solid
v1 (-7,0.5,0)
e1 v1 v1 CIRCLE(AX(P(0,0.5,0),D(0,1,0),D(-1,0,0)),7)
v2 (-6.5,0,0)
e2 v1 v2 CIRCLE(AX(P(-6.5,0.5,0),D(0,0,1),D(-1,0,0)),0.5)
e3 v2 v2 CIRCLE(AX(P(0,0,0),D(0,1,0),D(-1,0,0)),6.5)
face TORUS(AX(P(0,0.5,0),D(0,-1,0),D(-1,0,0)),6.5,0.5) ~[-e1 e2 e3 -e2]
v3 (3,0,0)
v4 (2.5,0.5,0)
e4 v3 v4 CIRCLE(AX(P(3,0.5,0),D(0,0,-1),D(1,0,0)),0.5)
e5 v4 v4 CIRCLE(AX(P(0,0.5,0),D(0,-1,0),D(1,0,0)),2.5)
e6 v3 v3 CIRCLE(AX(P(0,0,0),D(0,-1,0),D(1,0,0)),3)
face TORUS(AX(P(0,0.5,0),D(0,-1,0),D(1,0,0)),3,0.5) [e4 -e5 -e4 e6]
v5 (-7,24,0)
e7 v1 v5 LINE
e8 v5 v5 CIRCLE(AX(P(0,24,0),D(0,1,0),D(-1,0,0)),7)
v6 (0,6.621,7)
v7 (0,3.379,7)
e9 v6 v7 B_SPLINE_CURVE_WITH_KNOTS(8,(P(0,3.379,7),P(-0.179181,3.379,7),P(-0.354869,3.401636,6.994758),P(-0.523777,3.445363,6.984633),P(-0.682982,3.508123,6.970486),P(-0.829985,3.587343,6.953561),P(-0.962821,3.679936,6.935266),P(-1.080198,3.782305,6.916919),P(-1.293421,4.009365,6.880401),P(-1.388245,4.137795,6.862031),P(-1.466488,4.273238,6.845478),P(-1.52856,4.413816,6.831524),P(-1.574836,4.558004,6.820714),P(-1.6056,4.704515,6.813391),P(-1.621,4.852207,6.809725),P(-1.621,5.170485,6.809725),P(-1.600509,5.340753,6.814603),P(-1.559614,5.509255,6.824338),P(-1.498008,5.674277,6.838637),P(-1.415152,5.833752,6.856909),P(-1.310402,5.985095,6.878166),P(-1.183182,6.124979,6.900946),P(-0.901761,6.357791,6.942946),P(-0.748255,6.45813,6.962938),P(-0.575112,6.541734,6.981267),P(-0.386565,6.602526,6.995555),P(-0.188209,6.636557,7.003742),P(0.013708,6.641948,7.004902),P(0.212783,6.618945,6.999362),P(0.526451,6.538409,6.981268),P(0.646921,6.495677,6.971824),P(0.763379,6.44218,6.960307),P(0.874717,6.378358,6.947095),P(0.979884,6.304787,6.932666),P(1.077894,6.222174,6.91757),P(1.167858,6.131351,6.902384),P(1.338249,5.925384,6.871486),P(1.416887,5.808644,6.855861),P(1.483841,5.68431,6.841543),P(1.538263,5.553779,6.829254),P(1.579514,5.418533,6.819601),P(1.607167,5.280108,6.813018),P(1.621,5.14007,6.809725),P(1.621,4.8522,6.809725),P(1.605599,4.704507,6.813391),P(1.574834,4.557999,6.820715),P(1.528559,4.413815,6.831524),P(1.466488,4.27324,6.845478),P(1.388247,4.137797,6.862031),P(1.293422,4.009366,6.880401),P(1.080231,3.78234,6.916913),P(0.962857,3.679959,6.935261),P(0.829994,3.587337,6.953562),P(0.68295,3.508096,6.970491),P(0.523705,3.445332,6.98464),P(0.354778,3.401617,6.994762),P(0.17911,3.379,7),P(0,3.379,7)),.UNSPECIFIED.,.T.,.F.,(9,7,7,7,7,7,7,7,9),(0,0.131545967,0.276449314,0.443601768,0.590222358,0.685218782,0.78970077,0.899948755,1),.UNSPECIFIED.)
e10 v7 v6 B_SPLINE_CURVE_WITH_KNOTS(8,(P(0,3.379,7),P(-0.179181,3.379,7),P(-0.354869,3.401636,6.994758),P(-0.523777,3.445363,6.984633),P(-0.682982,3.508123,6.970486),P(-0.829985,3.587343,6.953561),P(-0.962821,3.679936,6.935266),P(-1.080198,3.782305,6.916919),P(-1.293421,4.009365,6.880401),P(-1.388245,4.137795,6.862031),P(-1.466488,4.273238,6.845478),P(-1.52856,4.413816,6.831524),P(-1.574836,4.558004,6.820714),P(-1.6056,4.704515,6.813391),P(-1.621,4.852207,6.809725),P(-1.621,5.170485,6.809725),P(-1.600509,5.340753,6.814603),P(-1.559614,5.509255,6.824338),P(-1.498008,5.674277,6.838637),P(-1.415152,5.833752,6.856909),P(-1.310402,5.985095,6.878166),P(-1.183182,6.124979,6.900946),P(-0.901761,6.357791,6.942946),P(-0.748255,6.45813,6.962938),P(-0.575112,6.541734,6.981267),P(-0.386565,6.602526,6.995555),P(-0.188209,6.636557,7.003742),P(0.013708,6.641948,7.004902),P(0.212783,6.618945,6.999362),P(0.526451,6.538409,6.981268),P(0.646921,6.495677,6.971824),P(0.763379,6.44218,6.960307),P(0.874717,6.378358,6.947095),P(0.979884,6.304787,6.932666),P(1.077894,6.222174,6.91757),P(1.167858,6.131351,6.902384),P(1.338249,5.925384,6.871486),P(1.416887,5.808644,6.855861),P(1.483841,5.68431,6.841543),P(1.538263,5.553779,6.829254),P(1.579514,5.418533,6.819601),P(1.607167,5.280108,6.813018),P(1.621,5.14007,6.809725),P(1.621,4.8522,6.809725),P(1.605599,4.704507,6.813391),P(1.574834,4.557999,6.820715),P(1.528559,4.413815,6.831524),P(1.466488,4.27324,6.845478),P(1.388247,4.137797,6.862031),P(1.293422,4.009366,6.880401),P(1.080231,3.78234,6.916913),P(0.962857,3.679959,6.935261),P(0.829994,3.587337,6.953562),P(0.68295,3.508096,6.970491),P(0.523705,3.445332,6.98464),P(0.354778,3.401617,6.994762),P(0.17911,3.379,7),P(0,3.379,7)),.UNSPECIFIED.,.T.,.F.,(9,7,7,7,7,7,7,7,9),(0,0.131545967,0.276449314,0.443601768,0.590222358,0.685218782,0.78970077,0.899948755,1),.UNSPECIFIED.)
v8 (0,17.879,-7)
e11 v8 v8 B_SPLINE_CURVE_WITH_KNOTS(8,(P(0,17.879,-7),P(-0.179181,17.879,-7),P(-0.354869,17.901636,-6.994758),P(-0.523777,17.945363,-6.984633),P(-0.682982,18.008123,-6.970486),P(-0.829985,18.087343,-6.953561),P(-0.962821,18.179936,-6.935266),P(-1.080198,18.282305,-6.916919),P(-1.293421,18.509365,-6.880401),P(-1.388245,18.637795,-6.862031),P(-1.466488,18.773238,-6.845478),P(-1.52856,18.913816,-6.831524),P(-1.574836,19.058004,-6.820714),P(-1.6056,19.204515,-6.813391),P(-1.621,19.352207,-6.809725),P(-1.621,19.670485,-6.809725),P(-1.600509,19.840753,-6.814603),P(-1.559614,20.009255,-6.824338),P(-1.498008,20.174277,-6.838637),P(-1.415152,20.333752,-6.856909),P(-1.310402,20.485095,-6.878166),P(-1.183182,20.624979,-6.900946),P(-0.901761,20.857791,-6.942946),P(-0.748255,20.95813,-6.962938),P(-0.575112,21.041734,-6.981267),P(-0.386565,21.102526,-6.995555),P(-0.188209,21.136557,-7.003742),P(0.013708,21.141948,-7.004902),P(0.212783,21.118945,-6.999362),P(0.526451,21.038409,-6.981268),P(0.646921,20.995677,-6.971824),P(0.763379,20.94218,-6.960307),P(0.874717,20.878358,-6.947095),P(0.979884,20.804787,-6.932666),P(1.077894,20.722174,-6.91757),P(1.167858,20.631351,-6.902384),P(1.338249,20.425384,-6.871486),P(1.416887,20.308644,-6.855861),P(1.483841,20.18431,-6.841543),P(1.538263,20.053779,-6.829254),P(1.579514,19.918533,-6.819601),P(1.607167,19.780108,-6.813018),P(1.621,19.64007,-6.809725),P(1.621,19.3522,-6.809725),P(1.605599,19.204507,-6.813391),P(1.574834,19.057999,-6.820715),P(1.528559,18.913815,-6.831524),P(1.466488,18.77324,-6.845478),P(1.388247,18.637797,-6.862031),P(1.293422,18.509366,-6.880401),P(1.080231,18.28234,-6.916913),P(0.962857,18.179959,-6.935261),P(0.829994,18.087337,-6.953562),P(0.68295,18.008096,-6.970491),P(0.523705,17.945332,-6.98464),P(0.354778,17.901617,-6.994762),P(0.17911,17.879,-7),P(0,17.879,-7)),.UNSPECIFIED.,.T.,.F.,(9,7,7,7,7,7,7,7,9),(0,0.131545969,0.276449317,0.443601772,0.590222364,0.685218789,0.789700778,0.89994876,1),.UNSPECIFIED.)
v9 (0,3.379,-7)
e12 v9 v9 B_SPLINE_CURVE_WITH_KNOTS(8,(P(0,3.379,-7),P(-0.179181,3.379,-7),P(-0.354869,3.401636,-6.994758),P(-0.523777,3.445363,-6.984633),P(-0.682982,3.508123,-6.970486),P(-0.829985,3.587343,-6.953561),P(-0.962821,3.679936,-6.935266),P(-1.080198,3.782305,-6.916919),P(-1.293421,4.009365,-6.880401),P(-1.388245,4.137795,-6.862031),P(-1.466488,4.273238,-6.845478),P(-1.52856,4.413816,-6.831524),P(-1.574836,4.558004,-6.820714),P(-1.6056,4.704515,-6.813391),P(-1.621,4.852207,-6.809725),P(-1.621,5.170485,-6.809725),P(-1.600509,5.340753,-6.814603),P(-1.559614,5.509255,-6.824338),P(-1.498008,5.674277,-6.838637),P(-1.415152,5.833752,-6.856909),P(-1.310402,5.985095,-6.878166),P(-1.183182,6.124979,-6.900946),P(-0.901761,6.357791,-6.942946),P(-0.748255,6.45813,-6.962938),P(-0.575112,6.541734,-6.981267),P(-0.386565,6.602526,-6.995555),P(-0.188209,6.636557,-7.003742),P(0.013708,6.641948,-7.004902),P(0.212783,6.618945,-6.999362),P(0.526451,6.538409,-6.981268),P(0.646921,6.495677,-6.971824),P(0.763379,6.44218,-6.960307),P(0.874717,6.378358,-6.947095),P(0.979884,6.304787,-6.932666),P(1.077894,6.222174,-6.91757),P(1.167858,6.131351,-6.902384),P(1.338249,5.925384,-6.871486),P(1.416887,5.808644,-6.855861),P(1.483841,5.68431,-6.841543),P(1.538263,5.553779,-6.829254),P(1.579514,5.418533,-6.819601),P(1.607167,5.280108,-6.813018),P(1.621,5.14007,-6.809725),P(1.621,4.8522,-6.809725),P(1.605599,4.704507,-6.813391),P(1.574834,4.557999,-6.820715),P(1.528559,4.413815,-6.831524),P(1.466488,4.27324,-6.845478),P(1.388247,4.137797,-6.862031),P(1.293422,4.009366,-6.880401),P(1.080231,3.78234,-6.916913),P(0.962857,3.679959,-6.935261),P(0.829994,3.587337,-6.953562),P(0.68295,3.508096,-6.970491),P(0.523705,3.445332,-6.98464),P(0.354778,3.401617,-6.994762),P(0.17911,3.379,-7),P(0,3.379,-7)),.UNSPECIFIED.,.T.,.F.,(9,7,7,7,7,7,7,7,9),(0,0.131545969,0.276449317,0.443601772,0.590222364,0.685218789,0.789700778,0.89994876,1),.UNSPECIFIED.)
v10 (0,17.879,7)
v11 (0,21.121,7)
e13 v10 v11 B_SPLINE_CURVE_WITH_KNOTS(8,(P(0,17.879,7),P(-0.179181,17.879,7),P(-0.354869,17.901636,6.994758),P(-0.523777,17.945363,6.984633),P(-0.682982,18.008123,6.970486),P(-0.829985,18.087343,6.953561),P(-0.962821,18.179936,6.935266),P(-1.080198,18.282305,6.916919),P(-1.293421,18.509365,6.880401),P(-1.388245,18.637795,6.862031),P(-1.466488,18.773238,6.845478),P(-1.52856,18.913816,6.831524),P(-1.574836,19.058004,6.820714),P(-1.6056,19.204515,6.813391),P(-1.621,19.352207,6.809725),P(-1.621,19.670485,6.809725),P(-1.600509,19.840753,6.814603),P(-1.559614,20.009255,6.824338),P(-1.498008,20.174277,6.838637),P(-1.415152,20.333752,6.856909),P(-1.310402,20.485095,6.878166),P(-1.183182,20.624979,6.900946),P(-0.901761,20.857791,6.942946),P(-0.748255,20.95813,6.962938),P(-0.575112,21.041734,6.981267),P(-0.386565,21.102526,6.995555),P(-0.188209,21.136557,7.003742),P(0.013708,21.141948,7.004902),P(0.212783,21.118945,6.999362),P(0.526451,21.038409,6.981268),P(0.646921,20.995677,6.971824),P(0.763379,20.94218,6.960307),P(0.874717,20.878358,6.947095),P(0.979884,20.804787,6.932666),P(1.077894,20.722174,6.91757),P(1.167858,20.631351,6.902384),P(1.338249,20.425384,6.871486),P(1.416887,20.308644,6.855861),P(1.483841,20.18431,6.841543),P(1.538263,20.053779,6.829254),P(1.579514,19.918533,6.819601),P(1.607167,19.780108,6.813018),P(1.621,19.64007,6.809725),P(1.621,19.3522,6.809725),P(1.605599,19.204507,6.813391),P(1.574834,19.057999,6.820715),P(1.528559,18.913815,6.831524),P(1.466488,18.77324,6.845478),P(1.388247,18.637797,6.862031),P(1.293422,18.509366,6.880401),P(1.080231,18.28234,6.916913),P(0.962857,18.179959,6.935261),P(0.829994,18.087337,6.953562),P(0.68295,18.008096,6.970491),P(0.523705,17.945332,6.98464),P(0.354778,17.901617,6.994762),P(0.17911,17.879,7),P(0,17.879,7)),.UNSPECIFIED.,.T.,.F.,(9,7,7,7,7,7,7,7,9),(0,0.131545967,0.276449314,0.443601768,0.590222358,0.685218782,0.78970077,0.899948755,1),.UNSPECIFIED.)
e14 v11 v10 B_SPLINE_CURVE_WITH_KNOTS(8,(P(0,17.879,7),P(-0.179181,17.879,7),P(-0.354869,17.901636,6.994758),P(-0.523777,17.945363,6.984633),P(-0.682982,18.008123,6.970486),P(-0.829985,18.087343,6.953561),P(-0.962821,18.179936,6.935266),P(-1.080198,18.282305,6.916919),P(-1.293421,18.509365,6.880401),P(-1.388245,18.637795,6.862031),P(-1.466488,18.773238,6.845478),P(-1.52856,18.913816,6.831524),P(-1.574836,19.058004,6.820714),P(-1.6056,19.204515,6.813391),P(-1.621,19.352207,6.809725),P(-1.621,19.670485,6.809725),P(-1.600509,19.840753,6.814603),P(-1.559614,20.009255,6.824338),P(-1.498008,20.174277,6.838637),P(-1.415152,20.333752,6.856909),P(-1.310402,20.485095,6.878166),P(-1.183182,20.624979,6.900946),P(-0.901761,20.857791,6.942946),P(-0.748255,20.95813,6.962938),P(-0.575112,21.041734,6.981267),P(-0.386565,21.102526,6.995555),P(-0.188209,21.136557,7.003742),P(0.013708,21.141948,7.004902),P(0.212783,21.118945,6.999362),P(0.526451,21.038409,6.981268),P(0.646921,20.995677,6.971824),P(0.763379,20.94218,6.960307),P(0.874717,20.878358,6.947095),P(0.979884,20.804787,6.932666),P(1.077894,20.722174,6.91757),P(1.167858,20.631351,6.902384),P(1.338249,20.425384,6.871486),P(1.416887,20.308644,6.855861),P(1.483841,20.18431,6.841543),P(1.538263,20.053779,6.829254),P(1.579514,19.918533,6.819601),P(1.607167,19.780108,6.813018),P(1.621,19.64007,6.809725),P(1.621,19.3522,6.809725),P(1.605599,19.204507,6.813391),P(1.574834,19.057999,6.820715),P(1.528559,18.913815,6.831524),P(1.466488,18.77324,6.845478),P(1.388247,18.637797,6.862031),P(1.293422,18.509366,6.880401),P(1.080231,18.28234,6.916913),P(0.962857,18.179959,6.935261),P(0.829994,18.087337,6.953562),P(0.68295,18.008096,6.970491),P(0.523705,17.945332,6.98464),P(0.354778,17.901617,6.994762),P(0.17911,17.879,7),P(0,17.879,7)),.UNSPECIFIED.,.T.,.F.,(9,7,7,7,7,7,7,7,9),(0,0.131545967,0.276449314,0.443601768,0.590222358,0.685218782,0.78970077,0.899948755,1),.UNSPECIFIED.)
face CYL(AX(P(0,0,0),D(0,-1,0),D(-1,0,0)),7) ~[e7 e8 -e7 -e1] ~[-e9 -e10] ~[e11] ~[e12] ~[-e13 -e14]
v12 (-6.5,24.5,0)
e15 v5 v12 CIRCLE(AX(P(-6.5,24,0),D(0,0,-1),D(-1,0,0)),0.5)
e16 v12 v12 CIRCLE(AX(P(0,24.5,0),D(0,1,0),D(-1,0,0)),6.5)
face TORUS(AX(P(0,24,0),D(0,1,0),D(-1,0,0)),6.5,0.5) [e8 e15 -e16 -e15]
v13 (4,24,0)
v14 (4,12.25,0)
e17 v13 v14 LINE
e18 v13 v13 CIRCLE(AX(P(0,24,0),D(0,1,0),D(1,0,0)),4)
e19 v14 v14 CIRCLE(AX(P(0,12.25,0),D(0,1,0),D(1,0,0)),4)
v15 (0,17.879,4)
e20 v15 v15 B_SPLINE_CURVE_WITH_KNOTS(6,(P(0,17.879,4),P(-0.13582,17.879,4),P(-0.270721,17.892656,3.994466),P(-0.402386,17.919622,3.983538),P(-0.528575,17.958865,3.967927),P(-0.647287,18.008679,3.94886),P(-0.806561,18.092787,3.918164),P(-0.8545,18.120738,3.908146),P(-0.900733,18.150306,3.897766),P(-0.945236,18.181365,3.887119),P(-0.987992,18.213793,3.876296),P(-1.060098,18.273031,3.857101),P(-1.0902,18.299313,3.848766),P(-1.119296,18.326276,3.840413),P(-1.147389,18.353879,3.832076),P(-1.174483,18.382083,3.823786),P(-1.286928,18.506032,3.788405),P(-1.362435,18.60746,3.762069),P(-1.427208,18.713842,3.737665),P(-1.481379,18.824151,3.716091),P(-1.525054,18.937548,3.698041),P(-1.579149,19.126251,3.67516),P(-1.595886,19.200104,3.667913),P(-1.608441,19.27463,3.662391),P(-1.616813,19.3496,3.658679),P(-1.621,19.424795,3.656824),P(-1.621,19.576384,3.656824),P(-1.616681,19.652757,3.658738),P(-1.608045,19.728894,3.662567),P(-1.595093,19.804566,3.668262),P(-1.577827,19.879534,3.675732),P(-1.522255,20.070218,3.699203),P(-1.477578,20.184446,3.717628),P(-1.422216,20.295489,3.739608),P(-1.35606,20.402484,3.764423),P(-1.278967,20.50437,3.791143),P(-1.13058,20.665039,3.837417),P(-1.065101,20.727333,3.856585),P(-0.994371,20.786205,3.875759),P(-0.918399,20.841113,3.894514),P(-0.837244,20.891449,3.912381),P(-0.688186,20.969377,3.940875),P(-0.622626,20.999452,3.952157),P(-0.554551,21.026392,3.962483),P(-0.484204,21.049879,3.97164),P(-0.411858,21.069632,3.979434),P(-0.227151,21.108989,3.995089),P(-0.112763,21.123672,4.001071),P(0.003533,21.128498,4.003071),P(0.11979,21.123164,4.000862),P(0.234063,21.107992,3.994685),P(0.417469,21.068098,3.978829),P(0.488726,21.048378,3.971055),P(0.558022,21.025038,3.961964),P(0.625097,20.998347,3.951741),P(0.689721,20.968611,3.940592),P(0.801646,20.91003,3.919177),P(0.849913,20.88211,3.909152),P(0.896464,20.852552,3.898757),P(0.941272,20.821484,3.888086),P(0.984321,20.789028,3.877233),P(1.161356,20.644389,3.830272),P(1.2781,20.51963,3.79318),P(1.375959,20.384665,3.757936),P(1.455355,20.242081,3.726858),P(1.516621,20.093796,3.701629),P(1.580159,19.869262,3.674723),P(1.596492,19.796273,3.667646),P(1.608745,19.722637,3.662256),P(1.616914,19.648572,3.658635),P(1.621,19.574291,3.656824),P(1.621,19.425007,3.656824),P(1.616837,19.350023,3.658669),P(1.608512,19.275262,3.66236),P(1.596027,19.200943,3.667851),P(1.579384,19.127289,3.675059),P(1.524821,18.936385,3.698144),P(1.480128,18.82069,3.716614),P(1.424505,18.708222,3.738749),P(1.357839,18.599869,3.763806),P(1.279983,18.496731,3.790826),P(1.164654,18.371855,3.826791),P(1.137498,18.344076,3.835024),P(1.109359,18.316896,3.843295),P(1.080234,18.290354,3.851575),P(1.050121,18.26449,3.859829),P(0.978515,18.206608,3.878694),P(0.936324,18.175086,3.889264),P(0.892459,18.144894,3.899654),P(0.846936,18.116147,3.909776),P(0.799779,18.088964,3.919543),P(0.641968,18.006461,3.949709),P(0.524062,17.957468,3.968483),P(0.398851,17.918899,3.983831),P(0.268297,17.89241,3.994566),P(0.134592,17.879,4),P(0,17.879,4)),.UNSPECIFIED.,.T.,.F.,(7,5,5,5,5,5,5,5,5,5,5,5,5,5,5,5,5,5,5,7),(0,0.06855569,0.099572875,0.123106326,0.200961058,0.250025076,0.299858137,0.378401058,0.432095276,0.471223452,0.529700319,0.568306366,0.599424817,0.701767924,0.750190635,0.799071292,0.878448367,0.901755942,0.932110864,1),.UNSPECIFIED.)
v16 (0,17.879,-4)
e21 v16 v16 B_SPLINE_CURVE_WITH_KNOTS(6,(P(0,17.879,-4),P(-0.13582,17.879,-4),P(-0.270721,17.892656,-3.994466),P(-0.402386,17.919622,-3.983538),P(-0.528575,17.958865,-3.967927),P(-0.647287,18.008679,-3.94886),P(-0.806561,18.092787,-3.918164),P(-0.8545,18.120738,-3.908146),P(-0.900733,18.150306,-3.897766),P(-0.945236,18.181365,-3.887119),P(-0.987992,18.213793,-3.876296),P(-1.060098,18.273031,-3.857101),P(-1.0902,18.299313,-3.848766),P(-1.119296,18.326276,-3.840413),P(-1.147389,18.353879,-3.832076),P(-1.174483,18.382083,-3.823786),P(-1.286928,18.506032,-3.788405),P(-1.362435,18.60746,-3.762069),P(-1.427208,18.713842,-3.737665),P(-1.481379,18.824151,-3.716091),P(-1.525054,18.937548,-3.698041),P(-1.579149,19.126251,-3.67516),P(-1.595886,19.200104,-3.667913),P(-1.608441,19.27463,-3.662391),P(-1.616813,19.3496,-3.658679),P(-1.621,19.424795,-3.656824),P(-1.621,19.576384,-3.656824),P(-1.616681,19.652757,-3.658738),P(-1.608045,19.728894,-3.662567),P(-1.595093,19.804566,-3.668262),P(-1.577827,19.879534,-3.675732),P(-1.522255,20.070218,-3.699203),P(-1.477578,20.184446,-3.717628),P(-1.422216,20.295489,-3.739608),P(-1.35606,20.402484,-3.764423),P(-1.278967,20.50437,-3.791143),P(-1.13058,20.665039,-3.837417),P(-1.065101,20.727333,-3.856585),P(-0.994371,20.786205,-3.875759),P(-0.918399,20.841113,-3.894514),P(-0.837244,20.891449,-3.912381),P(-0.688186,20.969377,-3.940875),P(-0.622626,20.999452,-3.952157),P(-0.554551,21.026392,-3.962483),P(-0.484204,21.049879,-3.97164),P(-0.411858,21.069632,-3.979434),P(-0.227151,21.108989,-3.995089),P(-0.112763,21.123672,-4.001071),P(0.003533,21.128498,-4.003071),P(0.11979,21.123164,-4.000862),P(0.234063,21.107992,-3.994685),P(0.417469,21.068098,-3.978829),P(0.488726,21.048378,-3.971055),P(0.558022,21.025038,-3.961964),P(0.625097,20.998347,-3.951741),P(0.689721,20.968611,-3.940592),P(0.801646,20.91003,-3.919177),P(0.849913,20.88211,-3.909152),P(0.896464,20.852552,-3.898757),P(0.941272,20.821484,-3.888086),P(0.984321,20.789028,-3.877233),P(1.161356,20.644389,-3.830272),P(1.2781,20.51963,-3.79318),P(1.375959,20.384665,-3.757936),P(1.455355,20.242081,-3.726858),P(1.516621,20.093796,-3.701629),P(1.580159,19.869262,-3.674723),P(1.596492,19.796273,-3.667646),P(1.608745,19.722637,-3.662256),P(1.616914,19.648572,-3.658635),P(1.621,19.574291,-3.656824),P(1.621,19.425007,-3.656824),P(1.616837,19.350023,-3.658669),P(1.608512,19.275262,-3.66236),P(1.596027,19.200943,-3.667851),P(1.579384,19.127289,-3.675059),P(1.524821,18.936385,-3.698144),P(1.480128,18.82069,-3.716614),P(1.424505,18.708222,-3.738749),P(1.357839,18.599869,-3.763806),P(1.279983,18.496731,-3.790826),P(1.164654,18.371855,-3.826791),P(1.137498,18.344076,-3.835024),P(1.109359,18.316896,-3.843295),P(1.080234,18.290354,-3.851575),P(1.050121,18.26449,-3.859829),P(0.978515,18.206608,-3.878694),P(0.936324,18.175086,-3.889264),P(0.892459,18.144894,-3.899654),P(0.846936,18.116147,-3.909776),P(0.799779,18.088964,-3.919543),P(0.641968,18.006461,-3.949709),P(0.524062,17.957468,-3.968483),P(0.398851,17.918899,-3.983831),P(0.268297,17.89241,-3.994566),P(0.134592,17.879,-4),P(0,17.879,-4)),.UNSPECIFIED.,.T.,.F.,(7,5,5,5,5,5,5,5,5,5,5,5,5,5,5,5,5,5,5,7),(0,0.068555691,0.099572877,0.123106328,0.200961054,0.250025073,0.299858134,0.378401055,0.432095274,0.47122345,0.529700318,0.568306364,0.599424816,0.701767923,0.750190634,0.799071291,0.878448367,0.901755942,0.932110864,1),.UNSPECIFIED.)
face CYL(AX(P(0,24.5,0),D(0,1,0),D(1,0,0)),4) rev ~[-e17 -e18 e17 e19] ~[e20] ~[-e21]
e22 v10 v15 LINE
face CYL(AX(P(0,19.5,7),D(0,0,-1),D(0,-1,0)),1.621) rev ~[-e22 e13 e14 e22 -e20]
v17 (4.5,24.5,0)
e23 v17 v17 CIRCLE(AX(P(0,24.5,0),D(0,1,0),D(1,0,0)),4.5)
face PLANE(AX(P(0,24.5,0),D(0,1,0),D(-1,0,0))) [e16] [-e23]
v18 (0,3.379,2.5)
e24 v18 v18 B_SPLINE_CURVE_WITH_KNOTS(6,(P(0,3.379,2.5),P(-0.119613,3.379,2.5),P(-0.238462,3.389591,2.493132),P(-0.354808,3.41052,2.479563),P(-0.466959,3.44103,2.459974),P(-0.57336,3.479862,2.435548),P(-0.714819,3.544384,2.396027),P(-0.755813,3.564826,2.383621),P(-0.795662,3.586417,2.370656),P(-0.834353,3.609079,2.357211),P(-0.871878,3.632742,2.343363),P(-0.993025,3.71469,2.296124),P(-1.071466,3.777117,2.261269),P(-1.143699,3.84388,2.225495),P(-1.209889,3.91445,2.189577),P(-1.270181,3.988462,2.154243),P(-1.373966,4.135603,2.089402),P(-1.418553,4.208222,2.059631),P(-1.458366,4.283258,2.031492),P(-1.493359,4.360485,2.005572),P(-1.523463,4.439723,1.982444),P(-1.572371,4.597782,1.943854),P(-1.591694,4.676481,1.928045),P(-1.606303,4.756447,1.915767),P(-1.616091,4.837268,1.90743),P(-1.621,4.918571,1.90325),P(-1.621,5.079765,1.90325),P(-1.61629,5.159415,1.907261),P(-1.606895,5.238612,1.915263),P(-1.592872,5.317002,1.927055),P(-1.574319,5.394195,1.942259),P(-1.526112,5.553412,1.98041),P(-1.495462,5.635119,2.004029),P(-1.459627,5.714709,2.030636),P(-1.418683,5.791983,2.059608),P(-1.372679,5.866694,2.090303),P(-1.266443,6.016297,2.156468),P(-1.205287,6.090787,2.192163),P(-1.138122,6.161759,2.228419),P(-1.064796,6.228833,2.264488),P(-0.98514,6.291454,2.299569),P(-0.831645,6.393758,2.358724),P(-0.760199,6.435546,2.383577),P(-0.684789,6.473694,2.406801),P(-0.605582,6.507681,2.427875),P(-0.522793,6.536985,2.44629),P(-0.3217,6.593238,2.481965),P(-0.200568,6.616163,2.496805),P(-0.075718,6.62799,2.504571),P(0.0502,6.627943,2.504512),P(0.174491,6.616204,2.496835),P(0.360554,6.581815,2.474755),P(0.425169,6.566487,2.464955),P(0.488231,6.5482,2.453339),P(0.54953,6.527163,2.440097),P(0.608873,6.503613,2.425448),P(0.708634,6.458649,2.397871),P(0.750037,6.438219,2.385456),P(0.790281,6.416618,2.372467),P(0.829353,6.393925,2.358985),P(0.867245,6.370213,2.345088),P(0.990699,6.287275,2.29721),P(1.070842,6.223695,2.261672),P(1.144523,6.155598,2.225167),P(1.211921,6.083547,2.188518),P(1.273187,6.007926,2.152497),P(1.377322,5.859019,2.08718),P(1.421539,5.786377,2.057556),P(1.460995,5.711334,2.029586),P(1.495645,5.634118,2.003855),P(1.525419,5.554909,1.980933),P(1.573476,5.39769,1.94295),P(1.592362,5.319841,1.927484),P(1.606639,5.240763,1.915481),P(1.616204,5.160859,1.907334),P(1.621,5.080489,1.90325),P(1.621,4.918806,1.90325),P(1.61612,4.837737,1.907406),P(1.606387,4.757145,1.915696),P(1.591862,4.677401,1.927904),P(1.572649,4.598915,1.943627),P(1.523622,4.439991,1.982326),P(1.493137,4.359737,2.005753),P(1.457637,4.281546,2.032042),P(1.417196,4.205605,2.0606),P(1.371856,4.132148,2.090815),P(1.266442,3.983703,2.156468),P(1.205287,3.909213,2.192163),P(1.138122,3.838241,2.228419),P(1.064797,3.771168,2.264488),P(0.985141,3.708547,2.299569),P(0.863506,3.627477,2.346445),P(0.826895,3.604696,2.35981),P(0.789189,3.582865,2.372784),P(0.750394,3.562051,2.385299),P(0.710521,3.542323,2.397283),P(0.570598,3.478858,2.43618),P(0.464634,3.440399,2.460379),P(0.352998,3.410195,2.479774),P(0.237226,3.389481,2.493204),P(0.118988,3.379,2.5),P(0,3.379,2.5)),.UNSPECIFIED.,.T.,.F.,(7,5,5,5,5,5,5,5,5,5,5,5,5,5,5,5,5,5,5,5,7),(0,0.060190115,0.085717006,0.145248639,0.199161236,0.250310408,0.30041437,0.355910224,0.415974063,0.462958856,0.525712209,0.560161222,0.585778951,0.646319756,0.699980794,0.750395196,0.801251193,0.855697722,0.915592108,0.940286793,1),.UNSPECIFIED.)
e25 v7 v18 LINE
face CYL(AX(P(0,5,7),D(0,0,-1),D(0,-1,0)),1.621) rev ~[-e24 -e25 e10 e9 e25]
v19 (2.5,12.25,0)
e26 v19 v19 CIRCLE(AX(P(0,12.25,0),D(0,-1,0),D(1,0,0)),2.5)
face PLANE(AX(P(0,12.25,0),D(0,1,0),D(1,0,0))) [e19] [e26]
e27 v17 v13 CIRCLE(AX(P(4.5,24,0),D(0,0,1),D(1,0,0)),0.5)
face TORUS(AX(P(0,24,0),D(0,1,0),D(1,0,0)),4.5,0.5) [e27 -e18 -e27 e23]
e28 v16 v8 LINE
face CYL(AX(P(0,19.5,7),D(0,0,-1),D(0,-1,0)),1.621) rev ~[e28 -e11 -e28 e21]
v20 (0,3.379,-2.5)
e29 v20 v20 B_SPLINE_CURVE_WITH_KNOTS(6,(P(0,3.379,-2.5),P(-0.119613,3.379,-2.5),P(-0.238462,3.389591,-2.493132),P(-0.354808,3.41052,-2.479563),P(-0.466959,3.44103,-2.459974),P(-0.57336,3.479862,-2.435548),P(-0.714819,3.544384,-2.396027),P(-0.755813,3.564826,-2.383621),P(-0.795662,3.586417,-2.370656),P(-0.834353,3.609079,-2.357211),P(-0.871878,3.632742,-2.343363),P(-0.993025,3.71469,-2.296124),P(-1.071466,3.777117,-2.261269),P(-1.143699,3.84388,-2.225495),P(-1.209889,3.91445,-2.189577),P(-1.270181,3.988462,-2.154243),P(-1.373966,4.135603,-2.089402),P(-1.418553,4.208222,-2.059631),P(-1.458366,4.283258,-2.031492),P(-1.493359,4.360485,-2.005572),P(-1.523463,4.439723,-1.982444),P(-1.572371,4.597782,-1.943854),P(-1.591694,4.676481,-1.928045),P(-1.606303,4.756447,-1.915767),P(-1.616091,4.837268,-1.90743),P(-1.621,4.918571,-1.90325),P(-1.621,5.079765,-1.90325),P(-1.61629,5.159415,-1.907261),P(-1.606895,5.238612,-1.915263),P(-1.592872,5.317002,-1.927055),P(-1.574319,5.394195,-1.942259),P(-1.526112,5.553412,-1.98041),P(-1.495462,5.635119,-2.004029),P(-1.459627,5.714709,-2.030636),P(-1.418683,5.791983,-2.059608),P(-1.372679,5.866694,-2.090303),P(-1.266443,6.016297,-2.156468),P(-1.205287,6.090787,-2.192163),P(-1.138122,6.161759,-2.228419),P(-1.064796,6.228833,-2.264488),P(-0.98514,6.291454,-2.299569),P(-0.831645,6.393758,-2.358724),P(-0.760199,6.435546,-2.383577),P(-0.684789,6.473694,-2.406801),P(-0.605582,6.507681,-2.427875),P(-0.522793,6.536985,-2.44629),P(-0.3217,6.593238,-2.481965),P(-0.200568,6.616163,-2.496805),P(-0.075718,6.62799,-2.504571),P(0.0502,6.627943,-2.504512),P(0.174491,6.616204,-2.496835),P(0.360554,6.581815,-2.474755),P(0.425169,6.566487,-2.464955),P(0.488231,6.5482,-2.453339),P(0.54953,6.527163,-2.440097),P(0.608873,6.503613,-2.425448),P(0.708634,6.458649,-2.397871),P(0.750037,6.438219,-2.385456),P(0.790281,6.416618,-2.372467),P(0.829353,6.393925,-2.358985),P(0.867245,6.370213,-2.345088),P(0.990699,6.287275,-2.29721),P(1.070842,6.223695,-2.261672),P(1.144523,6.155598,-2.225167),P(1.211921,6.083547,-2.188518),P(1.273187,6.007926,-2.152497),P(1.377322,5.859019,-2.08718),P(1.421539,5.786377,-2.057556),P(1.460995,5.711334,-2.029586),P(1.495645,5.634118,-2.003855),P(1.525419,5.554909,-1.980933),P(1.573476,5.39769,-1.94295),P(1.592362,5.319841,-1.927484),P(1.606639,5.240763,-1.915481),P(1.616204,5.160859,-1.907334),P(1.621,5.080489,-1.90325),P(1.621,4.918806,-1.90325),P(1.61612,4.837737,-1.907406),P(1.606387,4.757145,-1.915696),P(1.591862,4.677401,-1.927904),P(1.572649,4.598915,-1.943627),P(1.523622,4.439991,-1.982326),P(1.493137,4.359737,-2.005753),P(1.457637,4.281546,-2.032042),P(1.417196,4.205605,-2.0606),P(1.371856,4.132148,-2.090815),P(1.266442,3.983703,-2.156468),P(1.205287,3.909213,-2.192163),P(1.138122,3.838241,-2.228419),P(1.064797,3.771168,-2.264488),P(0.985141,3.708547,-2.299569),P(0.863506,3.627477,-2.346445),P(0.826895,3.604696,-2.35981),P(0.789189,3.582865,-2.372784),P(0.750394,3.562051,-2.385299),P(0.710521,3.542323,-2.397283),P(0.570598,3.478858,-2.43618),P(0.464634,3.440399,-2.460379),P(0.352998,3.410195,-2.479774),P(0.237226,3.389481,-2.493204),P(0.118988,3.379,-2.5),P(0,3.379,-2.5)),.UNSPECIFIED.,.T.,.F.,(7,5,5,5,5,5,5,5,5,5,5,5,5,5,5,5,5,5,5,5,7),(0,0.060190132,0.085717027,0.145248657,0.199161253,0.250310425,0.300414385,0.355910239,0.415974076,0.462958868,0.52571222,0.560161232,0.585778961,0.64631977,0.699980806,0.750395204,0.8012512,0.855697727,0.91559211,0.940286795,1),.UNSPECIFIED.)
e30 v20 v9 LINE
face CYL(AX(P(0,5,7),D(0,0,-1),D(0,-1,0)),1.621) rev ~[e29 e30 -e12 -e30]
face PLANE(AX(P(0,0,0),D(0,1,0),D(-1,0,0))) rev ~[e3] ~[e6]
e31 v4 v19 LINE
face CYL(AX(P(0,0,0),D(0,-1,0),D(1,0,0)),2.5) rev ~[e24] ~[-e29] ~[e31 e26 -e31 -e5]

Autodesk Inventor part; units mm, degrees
ref_plane "YZ Plane" through (0, 0, 0) normal (1, 0, 0) x (0, 1, 0)
ref_plane "XZ Plane" through (0, 0, 0) normal (0, 1, 0) x (-1, 0, 0)
sketch "Sketch1" plane through (0, 0, 0) normal (0, 1, 0) x (-1, 0, 0)
  circle A0 centre (0, 0) radius 7
  dimension "d0" = 14
extrude "Extrusion1" add sketch "Sketch1" along normal blind 24.5
sketch "Sketch2" plane through (0, 24.5, 0) normal (0, 1, 0) x (1, 0, 0)
  circle A0 centre (0, 0) radius 4
  dimension "d3" = 8
extrude "Extrusion2" cut sketch "Sketch2" against normal blind 12.25
sketch "Sketch3" plane through (0, 0, 0) normal (0, -1, 0) x (1, 0, 0)
  circle A0 centre (0, 0) radius 2.5
  dimension "d6" = 5
extrude "Extrusion3" cut sketch "Sketch3" against normal blind 12.25
fillet "Fillet1" radius 0.5 4 edges at (7, 24.5, 0) (7, 0, 0) (-4, 24.5, 0) (-2.5, 0, 0)
ref_plane "Work Plane4" through (0, 0, 7) normal (0, 0, 1) x (1, 0, 0)
sketch "Sketch8" plane through (0, 0, 7) normal (0, 0, 1) x (1, 0, 0)
  line L0 (0, 0) -> (0, 24.5) construction
  circle A0 centre (0, 5) radius 1.5
  circle A1 centre (0, 19.5) radius 1.5
  line L1 (-6.5, 24.5) -> (6.5, 24.5) projected
  dimension "d33" = 3
  dimension "d34" = 5
  dimension "d38" = 5
hole "Hole3" at (0, 5, 7) at (0, 19.5, 7) direction (0, 0, -1) diameter 3.242 end through all thread size "M4x0.7" class "6H" standard "ISO Metric profile"
properties part number "Rigid_Coupler" material "Aluminum 6061"
